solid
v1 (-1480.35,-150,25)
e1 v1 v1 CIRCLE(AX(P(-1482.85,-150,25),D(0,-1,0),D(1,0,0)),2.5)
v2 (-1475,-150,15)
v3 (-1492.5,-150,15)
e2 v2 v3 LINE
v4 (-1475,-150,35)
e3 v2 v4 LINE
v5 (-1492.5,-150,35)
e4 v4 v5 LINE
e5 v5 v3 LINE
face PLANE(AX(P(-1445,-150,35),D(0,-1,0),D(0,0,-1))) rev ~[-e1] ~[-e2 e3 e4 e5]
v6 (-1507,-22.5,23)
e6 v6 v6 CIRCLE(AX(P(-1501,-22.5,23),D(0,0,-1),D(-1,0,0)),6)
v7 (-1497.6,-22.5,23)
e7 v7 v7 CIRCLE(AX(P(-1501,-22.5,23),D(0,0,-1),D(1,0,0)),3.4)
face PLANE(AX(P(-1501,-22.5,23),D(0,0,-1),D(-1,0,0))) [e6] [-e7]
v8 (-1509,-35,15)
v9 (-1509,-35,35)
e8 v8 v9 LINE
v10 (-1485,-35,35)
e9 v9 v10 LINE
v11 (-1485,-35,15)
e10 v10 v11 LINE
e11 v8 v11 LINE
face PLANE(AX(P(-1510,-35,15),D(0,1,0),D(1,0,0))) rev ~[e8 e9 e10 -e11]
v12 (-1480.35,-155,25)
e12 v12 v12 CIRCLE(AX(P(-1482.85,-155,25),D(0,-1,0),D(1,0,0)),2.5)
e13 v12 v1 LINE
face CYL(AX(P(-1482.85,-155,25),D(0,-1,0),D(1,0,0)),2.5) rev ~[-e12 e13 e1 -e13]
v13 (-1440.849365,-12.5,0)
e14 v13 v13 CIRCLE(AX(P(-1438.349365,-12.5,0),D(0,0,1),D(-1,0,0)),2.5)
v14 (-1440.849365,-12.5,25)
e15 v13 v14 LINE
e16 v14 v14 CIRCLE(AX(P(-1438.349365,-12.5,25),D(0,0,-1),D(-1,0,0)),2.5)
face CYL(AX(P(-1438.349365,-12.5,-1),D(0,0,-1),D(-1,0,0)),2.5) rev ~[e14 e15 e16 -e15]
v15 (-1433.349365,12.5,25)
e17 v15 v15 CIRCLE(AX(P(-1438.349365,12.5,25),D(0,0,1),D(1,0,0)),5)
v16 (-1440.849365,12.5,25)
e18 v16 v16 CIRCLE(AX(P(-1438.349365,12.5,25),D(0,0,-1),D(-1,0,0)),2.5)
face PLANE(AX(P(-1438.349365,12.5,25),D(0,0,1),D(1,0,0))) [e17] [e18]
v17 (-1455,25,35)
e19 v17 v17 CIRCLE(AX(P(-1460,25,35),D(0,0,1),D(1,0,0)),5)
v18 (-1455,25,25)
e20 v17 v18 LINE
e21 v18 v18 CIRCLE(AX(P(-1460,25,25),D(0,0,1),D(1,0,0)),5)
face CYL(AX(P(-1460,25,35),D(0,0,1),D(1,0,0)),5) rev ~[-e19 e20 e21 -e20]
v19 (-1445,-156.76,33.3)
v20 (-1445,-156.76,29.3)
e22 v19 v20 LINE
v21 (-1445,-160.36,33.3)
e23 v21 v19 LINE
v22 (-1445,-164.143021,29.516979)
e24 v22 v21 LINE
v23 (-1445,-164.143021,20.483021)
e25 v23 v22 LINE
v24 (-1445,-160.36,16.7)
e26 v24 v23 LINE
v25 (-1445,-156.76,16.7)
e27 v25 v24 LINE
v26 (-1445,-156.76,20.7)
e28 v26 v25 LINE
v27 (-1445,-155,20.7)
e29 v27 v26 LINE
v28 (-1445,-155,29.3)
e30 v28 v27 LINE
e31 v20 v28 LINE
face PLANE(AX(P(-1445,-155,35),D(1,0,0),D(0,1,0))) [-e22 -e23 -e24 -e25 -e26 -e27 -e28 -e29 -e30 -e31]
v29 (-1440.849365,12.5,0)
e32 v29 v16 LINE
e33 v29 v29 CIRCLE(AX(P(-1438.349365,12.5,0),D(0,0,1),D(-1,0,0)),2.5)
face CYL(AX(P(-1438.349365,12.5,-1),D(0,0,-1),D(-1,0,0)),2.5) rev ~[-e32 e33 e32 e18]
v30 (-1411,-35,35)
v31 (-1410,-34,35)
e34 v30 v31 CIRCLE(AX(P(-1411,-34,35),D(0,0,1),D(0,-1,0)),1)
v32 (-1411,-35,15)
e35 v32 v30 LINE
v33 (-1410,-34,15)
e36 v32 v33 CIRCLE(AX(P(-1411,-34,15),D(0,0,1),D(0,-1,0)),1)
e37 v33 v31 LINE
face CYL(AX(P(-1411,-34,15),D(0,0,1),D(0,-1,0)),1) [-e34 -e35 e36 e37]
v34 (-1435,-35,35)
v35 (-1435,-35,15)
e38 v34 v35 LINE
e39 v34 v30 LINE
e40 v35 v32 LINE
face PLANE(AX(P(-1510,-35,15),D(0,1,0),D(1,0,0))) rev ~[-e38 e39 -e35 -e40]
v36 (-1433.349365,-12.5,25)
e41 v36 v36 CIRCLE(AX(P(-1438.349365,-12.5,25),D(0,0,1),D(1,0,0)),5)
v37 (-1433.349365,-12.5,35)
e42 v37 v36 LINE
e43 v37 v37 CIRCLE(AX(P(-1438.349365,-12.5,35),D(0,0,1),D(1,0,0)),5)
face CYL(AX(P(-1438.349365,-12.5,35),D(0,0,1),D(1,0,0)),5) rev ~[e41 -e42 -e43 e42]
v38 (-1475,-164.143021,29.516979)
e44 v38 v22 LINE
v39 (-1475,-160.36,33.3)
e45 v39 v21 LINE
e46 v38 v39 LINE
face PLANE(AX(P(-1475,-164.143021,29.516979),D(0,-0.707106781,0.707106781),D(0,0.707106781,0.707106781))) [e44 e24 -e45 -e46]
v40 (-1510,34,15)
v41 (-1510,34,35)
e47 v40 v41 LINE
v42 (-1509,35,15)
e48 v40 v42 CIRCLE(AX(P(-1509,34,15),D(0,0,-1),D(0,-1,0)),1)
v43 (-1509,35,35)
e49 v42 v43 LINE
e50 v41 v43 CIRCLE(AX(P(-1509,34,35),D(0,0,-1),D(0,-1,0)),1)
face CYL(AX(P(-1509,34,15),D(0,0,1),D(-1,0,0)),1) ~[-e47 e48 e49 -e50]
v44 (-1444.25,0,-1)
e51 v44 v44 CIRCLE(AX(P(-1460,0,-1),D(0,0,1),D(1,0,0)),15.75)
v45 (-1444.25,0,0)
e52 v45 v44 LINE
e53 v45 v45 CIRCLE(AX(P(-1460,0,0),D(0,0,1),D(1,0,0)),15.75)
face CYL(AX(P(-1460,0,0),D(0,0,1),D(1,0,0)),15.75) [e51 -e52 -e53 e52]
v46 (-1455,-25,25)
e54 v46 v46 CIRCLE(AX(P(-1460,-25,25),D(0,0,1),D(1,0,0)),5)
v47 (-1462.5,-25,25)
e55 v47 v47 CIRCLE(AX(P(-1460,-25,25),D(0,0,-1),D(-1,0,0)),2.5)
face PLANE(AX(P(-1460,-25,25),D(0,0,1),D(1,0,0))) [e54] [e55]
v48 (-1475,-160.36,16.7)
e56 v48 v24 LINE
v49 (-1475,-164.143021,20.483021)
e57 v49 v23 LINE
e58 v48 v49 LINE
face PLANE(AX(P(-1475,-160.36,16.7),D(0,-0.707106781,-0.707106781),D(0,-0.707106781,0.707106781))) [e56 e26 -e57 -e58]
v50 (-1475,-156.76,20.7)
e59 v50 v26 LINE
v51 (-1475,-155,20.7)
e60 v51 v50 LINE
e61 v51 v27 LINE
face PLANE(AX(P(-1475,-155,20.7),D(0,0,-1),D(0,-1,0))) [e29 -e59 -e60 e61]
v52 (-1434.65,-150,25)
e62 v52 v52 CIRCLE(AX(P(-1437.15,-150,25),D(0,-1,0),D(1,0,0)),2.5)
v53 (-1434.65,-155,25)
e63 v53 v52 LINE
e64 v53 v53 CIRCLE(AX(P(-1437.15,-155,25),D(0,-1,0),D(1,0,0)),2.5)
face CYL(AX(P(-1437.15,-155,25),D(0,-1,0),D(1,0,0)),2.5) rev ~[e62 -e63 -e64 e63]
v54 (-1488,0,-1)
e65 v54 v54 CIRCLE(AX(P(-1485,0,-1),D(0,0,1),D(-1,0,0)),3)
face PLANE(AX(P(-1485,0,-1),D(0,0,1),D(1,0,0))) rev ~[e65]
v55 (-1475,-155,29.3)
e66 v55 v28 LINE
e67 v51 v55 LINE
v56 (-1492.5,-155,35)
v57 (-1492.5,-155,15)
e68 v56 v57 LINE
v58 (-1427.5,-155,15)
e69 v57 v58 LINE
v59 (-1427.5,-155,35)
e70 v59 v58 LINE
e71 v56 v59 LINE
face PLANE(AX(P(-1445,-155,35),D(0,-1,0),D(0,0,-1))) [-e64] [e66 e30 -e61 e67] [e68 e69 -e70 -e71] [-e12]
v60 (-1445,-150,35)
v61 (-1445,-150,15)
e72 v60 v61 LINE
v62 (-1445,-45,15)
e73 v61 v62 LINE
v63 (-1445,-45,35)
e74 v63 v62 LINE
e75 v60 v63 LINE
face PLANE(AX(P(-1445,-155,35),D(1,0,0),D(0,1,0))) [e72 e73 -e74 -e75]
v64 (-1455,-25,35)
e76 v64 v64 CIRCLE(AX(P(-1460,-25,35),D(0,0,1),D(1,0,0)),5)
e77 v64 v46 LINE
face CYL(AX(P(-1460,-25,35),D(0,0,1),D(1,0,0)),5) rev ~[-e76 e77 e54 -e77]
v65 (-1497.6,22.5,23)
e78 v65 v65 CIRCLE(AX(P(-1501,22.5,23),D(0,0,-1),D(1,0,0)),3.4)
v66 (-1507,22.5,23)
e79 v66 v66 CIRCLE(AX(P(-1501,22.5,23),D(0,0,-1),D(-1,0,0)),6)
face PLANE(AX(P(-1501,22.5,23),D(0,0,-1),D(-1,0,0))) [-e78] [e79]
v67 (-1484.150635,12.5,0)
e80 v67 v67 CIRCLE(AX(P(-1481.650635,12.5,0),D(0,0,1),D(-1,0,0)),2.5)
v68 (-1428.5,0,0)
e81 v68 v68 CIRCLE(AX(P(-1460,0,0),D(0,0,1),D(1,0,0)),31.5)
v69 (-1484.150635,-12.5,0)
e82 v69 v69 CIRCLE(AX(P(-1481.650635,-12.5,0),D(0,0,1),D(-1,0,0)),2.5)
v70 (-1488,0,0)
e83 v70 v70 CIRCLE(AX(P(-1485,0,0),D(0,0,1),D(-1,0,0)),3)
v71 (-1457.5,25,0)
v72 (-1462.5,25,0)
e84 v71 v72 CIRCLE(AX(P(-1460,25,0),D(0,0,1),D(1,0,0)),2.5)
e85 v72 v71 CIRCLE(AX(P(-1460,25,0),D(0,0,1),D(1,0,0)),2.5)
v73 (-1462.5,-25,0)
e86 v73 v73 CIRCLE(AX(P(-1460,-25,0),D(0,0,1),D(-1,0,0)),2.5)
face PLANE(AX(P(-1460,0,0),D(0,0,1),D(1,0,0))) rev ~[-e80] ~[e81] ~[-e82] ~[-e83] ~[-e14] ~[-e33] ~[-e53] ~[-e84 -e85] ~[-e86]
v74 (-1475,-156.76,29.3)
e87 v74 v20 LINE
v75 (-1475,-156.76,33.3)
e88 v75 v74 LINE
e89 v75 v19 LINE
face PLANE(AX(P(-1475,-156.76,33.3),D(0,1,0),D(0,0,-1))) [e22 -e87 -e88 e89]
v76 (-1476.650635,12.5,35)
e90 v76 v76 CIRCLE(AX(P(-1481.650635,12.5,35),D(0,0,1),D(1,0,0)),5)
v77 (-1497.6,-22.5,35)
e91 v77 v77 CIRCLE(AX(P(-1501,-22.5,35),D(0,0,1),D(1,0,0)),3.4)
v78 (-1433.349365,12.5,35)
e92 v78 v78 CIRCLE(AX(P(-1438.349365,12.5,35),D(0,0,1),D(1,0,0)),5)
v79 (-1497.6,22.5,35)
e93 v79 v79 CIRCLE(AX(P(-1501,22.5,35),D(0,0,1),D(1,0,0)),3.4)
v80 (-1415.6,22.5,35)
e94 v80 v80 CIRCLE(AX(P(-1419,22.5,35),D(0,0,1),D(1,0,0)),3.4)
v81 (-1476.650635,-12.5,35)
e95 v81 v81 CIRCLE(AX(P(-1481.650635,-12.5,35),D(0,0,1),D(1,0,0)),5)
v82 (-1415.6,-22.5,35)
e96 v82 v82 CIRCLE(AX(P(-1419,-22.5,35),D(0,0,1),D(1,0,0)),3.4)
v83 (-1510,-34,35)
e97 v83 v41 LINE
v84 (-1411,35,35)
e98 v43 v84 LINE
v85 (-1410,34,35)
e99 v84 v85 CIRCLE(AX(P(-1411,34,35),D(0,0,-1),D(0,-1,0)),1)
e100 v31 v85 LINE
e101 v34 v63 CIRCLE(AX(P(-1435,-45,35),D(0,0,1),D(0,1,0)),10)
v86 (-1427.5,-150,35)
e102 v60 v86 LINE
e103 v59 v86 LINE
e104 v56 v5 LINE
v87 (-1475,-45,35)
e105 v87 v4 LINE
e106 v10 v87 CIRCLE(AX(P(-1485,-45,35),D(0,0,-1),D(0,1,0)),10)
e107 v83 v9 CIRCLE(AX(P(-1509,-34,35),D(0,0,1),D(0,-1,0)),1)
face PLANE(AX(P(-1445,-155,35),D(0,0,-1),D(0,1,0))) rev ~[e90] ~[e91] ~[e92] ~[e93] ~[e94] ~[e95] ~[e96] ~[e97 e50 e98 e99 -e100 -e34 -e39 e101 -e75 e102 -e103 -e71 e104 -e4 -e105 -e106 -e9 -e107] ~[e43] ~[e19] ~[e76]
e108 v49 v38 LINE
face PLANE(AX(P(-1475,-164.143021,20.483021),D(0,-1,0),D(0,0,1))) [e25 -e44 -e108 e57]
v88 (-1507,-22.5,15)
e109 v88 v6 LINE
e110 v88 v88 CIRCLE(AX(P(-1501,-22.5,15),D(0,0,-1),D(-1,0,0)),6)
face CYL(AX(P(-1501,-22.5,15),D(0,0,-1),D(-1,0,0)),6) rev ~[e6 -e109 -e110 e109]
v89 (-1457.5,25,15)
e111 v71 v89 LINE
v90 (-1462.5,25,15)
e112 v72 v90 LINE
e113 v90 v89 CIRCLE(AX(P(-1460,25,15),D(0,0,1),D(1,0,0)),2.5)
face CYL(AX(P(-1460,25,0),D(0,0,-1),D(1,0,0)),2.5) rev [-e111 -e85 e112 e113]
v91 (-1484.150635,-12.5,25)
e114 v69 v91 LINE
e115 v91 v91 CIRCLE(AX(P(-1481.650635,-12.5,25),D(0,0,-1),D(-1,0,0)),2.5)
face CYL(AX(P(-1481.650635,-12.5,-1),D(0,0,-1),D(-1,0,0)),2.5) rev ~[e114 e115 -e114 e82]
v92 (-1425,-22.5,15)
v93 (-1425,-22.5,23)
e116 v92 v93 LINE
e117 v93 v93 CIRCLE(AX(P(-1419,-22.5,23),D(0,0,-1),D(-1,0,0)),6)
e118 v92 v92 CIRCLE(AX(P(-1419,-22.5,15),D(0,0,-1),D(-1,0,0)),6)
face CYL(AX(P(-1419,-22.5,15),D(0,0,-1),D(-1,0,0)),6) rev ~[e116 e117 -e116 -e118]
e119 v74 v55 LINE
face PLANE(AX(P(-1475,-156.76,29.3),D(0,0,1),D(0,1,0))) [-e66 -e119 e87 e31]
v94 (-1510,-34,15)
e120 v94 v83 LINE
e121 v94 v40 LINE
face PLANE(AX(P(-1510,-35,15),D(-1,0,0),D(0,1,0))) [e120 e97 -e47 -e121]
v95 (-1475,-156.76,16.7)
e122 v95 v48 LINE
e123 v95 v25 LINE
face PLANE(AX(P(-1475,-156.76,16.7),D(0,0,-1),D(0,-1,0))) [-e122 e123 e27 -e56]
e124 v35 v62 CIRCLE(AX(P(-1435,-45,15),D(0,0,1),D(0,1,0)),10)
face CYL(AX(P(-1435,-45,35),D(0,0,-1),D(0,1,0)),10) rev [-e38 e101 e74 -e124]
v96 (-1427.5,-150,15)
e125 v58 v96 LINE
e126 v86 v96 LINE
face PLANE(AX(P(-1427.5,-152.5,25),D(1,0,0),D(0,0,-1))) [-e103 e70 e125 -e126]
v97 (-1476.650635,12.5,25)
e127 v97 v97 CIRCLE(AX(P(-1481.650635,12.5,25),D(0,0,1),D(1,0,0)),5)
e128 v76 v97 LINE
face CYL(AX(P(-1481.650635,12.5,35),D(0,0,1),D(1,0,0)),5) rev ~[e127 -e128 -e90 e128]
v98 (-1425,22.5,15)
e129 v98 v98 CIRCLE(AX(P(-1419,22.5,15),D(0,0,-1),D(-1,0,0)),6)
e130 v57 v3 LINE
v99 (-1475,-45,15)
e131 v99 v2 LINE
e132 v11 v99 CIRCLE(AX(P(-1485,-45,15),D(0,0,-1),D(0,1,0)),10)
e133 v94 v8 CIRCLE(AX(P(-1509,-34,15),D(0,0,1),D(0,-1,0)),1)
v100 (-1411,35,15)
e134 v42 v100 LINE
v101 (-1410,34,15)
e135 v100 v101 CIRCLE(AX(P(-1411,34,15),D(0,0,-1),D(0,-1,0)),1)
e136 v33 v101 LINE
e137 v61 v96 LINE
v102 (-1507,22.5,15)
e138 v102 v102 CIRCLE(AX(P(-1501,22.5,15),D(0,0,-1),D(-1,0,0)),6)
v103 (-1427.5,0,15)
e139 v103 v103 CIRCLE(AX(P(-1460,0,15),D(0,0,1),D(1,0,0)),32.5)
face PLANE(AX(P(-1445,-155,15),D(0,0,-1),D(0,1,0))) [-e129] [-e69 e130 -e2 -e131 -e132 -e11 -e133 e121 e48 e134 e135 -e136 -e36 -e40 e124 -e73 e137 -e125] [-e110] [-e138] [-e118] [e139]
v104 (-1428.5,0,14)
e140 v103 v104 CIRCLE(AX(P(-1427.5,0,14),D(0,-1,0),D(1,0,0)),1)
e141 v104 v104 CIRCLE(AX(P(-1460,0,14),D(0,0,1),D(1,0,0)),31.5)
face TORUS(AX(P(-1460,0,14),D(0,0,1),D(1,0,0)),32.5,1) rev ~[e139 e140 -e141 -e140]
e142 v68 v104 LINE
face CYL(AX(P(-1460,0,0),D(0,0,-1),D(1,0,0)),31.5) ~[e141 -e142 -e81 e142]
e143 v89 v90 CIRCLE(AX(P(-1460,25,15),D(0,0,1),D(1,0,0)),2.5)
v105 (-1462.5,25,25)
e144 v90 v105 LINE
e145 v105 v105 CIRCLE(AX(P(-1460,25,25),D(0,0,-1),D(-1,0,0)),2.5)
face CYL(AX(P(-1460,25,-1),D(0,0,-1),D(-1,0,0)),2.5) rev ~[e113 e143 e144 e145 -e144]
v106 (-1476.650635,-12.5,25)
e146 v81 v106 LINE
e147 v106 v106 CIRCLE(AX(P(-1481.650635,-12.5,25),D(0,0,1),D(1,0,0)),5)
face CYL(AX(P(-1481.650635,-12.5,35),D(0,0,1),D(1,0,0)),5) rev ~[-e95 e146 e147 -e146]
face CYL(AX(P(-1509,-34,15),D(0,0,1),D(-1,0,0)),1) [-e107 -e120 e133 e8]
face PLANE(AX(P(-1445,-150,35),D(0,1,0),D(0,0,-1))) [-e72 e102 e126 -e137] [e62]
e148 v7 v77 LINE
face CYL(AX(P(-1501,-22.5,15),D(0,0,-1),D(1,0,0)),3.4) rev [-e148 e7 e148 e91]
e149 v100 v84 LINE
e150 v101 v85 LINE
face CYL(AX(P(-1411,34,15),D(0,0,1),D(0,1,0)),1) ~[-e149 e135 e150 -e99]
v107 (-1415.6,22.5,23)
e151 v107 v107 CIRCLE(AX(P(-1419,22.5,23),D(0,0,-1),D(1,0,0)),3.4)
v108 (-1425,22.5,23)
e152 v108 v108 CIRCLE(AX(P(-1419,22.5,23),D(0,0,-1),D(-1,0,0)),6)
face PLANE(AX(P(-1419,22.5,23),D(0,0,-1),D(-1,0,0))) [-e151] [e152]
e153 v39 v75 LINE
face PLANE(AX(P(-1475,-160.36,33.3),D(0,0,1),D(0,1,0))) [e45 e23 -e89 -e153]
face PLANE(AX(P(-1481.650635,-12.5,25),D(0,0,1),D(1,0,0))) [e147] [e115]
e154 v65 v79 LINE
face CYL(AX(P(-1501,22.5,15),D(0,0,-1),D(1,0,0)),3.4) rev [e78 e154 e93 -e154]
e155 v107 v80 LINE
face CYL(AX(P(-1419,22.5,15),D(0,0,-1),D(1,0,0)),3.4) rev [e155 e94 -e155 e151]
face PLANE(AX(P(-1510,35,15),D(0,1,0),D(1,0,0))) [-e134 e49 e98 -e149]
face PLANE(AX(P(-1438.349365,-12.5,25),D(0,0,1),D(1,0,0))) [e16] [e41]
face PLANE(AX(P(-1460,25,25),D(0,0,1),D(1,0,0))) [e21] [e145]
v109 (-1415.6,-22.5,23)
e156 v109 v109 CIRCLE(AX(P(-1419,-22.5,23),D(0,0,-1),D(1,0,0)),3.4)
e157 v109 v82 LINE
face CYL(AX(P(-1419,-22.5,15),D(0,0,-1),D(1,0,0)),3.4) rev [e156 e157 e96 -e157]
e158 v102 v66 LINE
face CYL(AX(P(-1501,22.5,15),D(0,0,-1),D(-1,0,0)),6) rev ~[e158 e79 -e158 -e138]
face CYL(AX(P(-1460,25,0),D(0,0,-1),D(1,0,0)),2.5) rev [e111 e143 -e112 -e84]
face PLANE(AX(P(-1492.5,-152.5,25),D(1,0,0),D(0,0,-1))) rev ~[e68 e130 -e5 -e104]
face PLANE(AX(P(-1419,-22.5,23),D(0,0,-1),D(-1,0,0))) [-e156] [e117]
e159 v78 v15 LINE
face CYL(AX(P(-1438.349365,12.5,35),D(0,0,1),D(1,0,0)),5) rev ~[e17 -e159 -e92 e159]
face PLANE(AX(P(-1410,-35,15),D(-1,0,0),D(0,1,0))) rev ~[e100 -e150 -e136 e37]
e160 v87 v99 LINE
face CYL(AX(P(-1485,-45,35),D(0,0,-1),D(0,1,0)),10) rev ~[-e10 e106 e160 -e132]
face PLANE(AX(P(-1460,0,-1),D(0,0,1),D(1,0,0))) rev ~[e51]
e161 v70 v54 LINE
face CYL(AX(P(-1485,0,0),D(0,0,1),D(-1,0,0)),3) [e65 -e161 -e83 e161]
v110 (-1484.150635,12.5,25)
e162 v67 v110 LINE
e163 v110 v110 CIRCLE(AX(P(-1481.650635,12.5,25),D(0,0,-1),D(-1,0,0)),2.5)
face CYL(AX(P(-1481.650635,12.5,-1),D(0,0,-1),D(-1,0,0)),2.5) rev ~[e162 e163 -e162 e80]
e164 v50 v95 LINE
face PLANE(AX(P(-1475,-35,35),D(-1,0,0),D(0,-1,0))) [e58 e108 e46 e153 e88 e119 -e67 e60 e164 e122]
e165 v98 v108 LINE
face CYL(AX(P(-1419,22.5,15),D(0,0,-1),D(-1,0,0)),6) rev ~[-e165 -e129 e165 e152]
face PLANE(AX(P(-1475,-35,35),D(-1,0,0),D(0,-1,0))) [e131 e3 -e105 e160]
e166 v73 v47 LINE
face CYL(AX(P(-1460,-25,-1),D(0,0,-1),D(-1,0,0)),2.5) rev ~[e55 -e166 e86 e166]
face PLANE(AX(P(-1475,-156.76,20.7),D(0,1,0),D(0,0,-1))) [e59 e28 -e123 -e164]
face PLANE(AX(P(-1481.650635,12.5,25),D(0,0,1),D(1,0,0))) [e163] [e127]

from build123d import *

# Parameters (mm, degrees)
ESTRUSIONE_ESTRUSIONE2_DEPTH      = 1
ESTRUSIONE_ESTRUSIONE2_2_DEPTH    = 1
ESTRUSIONE_ESTRUSIONE3_DEPTH      = 15
SCHIZZO4_W                        = 100
SCHIZZO4_H                        = 70
SCHIZZO4_R                        = 3.4
ESTRUSIONE_ESTRUSIONE4_DEPTH      = 20
SCHIZZO5_R                        = 2.5
TAGLIO_ESTRUSIONE2_DEPTH          = 36
SCHIZZO6_R                        = 5
TAGLIO_ESTRUSIONE3_DEPTH          = 10
SCHIZZO7_R                        = 6
TAGLIO_ESTRUSIONE4_DEPTH          = 8
RACCORDO1_R                       = 1
RACCORDO2_R                       = 1
ESTRUSIONE_ESTRUSIONE5_DEPTH      = 20
RACCORDO3_R                       = 10
ESTRUSIONE_ESTRUSIONE6_DEPTH      = 30
SCHIZZO11_W                       = 20
SCHIZZO11_H                       = 5
ESTRUSIONE_ESTRUSIONE7_DEPTH      = 17.5
ESTRUSIONE_ESTRUSIONE7_DEPTH_BACK = 47.5
TAGLIO_ESTRUSIONE5_REACH          = 192
SCHIZZO13_R                       = 2.5


with BuildPart() as part:
    # Schizzo1 → Estrusione-Estrusione2 (new body)
    with BuildSketch(Plane.XY):
        with BuildLine():
            ThreePointArc((-1482, 0), (-1485, 3), (-1488, 0))
            ThreePointArc((-1488, 0), (-1485, -3), (-1482, 0))
        make_face()
    extrude(amount=-ESTRUSIONE_ESTRUSIONE2_DEPTH)



with BuildPart() as body_2:
    # Schizzo1 → Estrusione-Estrusione2 2 (new body)
    with BuildSketch(Plane.XY):
        with BuildLine():
            ThreePointArc((-1475.75, 0), (-1460, -15.75), (-1444.25, 0))
            ThreePointArc((-1444.25, 0), (-1460, 15.75), (-1475.75, 0))
        make_face()
    extrude(amount=-ESTRUSIONE_ESTRUSIONE2_2_DEPTH)


with BuildPart() as part_1:
    add(part.part)

    add(body_2.part)  # Estrusione-Estrusione3 merges body 2
    # Schizzo2 → Estrusione-Estrusione3 (add)
    with BuildSketch(Plane.XY):
        with BuildLine():
            ThreePointArc((-1491.5, 0), (-1460, -31.5), (-1428.5, 0))
            ThreePointArc((-1428.5, 0), (-1460, 31.5), (-1491.5, 0))
        make_face()
        with BuildLine():
            ThreePointArc((-1479.150635095, -12.5), (-1481.650635095, -10), (-1484.150635095, -12.5))
            ThreePointArc((-1484.150635095, -12.5), (-1481.650635095, -15), (-1479.150635095, -12.5))
        make_face(mode=Mode.SUBTRACT)
        with BuildLine():
            ThreePointArc((-1457.5, -25), (-1460, -22.5), (-1462.5, -25))
            ThreePointArc((-1462.5, -25), (-1460, -27.5), (-1457.5, -25))
        make_face(mode=Mode.SUBTRACT)
        with BuildLine():
            ThreePointArc((-1435.849364905, -12.5), (-1438.349364905, -10), (-1440.849364905, -12.5))
            ThreePointArc((-1440.849364905, -12.5), (-1438.349364905, -15), (-1435.849364905, -12.5))
        make_face(mode=Mode.SUBTRACT)
        with BuildLine():
            ThreePointArc((-1435.849364905, 12.5), (-1438.349364905, 15), (-1440.849364905, 12.5))
            ThreePointArc((-1440.849364905, 12.5), (-1438.349364905, 10), (-1435.849364905, 12.5))
        make_face(mode=Mode.SUBTRACT)
        with BuildLine():
            ThreePointArc((-1462.5, 25), (-1460, 22.5), (-1457.5, 25))
            ThreePointArc((-1457.5, 25), (-1460, 27.5), (-1462.5, 25))
        make_face(mode=Mode.SUBTRACT)
        with BuildLine():
            ThreePointArc((-1479.150635095, 12.5), (-1481.650635095, 15), (-1484.150635095, 12.5))
            ThreePointArc((-1484.150635095, 12.5), (-1481.650635095, 10), (-1479.150635095, 12.5))
        make_face(mode=Mode.SUBTRACT)
    extrude(amount=ESTRUSIONE_ESTRUSIONE3_DEPTH)

    # Schizzo4 → Estrusione-Estrusione4 (add)
    with BuildSketch(Plane.XY.offset(15)):
        with Locations((-1460, 0)):
            Rectangle(SCHIZZO4_W, SCHIZZO4_H)
        with Locations((-1501, 22.5)):
            Circle(SCHIZZO4_R, mode=Mode.SUBTRACT)
        with Locations((-1419, -22.5)):
            Circle(SCHIZZO4_R, mode=Mode.SUBTRACT)
        with Locations((-1419, 22.5)):
            Circle(SCHIZZO4_R, mode=Mode.SUBTRACT)
        with Locations((-1501, -22.5)):
            Circle(SCHIZZO4_R, mode=Mode.SUBTRACT)
    extrude(amount=ESTRUSIONE_ESTRUSIONE4_DEPTH)

    # Schizzo5 → Taglio-Estrusione2 (cut)
    with BuildSketch(Plane(origin=(0, 0, -1), x_dir=(-1, 0, 0), z_dir=(0, 0, -1))):
        with Locations((1438.349364905, 12.5)):
            Circle(SCHIZZO5_R)
        with Locations((1438.349364905, -12.5)):
            Circle(SCHIZZO5_R)
        with Locations((1460, -25)):
            Circle(SCHIZZO5_R)
        with Locations((1481.650635095, -12.5)):
            Circle(SCHIZZO5_R)
        with Locations((1481.650635095, 12.5)):
            Circle(SCHIZZO5_R)
        with Locations((1460, 25)):
            Circle(SCHIZZO5_R)
    extrude(amount=-TAGLIO_ESTRUSIONE2_DEPTH, mode=Mode.SUBTRACT)

    # Schizzo6 → Taglio-Estrusione3 (cut)
    with BuildSketch(Plane.XY.offset(35)):
        with Locations((-1460, 25)):
            Circle(SCHIZZO6_R)
        with Locations((-1438.349364905, 12.5)):
            Circle(SCHIZZO6_R)
        with Locations((-1438.349364905, -12.5)):
            Circle(SCHIZZO6_R)
        with Locations((-1460, -25)):
            Circle(SCHIZZO6_R)
        with Locations((-1481.650635095, -12.5)):
            Circle(SCHIZZO6_R)
        with Locations((-1481.650635095, 12.5)):
            Circle(SCHIZZO6_R)
    extrude(amount=-TAGLIO_ESTRUSIONE3_DEPTH, mode=Mode.SUBTRACT)

    # Schizzo7 → Taglio-Estrusione4 (cut)
    with BuildSketch(Plane(origin=(0, 0, 15), x_dir=(-1, 0, 0), z_dir=(0, 0, -1))):
        with Locations((1419, 22.5)):
            Circle(SCHIZZO7_R)
        with Locations((1501, -22.5)):
            Circle(SCHIZZO7_R)
        with Locations((1501, 22.5)):
            Circle(SCHIZZO7_R)
        with Locations((1419, -22.5)):
            Circle(SCHIZZO7_R)
    extrude(amount=-TAGLIO_ESTRUSIONE4_DEPTH, mode=Mode.SUBTRACT)

    # Raccordo1
    raccordo1_edges = [part_1.edges().sort_by_distance(p)[0] for p in [
        (-1510, 35, 25),
        (-1510, -35, 25),
        (-1410, -35, 25),
        (-1410, 35, 25),
    ]]
    fillet(raccordo1_edges, radius=RACCORDO1_R)

    # Raccordo2
    raccordo2_edges = [part_1.edges().sort_by_distance(p)[0] for p in [
        (-1491.5, 0, 15),
    ]]
    fillet(raccordo2_edges, radius=RACCORDO2_R)

    # Schizzo8 → Estrusione-Estrusione5 (add)
    with BuildSketch(Plane.XY.offset(35)):
        Polygon((-1460, -35), (-1475, -35), (-1475, -155), (-1465.76, -155), (-1445, -155), (-1445, -35), align=None)
    extrude(amount=-ESTRUSIONE_ESTRUSIONE5_DEPTH)

    # Raccordo3
    raccordo3_edges = [part_1.edges().sort_by_distance(p)[0] for p in [
        (-1445, -35, 25),
        (-1475, -35, 25),
    ]]
    fillet(raccordo3_edges, radius=RACCORDO3_R)

    # Schizzo10 → Estrusione-Estrusione6 (add)
    with BuildSketch(Plane.ZY.offset(1475)):
        Polygon((20.7, -155), (20.7, -156.76), (16.7, -156.76), (16.7, -160.36), (20.483021279, -164.143021279), (29.516978721, -164.143021279), (33.3, -160.36), (33.3, -156.76), (29.3, -156.76), (29.3, -155), align=None)
    extrude(amount=-ESTRUSIONE_ESTRUSIONE6_DEPTH)

    # Schizzo11 → Estrusione-Estrusione7 (add, two sides)
    with BuildSketch(Plane(origin=(-1445, 0, 0), x_dir=(0, 0, -1), z_dir=(1, 0, 0))) as estrusione_estrusione7_sk:
        with Locations((-25, -152.5)):
            Rectangle(SCHIZZO11_W, SCHIZZO11_H)
    extrude(amount=ESTRUSIONE_ESTRUSIONE7_DEPTH)
    extrude(estrusione_estrusione7_sk.sketch, amount=-ESTRUSIONE_ESTRUSIONE7_DEPTH_BACK)

    # Schizzo13 → Taglio-Estrusione5 (cut, up to next)
    with BuildSketch(Plane.XZ.offset(155), mode=Mode.PRIVATE) as taglio_estrusione5_sk1:
        with Locations((-1437.15, 25)):
            Circle(SCHIZZO13_R)
    taglio_estrusione5_tool1 = extrude(taglio_estrusione5_sk1.sketch, amount=-TAGLIO_ESTRUSIONE5_REACH, mode=Mode.PRIVATE) & part_1.part
    add(taglio_estrusione5_tool1.solids().sort_by_distance((-1437.15, -155, 25))[0], mode=Mode.SUBTRACT)
    # Schizzo13 → Taglio-Estrusione5 (cut, up to next)
    with BuildSketch(Plane.XZ.offset(155), mode=Mode.PRIVATE) as taglio_estrusione5_sk2:
        with Locations((-1482.85, 25)):
            Circle(SCHIZZO13_R)
    taglio_estrusione5_tool2 = extrude(taglio_estrusione5_sk2.sketch, amount=-TAGLIO_ESTRUSIONE5_REACH, mode=Mode.PRIVATE) & part_1.part
    add(taglio_estrusione5_tool2.solids().sort_by_distance((-1482.85, -155, 25))[0], mode=Mode.SUBTRACT)


solid = part_1.part
